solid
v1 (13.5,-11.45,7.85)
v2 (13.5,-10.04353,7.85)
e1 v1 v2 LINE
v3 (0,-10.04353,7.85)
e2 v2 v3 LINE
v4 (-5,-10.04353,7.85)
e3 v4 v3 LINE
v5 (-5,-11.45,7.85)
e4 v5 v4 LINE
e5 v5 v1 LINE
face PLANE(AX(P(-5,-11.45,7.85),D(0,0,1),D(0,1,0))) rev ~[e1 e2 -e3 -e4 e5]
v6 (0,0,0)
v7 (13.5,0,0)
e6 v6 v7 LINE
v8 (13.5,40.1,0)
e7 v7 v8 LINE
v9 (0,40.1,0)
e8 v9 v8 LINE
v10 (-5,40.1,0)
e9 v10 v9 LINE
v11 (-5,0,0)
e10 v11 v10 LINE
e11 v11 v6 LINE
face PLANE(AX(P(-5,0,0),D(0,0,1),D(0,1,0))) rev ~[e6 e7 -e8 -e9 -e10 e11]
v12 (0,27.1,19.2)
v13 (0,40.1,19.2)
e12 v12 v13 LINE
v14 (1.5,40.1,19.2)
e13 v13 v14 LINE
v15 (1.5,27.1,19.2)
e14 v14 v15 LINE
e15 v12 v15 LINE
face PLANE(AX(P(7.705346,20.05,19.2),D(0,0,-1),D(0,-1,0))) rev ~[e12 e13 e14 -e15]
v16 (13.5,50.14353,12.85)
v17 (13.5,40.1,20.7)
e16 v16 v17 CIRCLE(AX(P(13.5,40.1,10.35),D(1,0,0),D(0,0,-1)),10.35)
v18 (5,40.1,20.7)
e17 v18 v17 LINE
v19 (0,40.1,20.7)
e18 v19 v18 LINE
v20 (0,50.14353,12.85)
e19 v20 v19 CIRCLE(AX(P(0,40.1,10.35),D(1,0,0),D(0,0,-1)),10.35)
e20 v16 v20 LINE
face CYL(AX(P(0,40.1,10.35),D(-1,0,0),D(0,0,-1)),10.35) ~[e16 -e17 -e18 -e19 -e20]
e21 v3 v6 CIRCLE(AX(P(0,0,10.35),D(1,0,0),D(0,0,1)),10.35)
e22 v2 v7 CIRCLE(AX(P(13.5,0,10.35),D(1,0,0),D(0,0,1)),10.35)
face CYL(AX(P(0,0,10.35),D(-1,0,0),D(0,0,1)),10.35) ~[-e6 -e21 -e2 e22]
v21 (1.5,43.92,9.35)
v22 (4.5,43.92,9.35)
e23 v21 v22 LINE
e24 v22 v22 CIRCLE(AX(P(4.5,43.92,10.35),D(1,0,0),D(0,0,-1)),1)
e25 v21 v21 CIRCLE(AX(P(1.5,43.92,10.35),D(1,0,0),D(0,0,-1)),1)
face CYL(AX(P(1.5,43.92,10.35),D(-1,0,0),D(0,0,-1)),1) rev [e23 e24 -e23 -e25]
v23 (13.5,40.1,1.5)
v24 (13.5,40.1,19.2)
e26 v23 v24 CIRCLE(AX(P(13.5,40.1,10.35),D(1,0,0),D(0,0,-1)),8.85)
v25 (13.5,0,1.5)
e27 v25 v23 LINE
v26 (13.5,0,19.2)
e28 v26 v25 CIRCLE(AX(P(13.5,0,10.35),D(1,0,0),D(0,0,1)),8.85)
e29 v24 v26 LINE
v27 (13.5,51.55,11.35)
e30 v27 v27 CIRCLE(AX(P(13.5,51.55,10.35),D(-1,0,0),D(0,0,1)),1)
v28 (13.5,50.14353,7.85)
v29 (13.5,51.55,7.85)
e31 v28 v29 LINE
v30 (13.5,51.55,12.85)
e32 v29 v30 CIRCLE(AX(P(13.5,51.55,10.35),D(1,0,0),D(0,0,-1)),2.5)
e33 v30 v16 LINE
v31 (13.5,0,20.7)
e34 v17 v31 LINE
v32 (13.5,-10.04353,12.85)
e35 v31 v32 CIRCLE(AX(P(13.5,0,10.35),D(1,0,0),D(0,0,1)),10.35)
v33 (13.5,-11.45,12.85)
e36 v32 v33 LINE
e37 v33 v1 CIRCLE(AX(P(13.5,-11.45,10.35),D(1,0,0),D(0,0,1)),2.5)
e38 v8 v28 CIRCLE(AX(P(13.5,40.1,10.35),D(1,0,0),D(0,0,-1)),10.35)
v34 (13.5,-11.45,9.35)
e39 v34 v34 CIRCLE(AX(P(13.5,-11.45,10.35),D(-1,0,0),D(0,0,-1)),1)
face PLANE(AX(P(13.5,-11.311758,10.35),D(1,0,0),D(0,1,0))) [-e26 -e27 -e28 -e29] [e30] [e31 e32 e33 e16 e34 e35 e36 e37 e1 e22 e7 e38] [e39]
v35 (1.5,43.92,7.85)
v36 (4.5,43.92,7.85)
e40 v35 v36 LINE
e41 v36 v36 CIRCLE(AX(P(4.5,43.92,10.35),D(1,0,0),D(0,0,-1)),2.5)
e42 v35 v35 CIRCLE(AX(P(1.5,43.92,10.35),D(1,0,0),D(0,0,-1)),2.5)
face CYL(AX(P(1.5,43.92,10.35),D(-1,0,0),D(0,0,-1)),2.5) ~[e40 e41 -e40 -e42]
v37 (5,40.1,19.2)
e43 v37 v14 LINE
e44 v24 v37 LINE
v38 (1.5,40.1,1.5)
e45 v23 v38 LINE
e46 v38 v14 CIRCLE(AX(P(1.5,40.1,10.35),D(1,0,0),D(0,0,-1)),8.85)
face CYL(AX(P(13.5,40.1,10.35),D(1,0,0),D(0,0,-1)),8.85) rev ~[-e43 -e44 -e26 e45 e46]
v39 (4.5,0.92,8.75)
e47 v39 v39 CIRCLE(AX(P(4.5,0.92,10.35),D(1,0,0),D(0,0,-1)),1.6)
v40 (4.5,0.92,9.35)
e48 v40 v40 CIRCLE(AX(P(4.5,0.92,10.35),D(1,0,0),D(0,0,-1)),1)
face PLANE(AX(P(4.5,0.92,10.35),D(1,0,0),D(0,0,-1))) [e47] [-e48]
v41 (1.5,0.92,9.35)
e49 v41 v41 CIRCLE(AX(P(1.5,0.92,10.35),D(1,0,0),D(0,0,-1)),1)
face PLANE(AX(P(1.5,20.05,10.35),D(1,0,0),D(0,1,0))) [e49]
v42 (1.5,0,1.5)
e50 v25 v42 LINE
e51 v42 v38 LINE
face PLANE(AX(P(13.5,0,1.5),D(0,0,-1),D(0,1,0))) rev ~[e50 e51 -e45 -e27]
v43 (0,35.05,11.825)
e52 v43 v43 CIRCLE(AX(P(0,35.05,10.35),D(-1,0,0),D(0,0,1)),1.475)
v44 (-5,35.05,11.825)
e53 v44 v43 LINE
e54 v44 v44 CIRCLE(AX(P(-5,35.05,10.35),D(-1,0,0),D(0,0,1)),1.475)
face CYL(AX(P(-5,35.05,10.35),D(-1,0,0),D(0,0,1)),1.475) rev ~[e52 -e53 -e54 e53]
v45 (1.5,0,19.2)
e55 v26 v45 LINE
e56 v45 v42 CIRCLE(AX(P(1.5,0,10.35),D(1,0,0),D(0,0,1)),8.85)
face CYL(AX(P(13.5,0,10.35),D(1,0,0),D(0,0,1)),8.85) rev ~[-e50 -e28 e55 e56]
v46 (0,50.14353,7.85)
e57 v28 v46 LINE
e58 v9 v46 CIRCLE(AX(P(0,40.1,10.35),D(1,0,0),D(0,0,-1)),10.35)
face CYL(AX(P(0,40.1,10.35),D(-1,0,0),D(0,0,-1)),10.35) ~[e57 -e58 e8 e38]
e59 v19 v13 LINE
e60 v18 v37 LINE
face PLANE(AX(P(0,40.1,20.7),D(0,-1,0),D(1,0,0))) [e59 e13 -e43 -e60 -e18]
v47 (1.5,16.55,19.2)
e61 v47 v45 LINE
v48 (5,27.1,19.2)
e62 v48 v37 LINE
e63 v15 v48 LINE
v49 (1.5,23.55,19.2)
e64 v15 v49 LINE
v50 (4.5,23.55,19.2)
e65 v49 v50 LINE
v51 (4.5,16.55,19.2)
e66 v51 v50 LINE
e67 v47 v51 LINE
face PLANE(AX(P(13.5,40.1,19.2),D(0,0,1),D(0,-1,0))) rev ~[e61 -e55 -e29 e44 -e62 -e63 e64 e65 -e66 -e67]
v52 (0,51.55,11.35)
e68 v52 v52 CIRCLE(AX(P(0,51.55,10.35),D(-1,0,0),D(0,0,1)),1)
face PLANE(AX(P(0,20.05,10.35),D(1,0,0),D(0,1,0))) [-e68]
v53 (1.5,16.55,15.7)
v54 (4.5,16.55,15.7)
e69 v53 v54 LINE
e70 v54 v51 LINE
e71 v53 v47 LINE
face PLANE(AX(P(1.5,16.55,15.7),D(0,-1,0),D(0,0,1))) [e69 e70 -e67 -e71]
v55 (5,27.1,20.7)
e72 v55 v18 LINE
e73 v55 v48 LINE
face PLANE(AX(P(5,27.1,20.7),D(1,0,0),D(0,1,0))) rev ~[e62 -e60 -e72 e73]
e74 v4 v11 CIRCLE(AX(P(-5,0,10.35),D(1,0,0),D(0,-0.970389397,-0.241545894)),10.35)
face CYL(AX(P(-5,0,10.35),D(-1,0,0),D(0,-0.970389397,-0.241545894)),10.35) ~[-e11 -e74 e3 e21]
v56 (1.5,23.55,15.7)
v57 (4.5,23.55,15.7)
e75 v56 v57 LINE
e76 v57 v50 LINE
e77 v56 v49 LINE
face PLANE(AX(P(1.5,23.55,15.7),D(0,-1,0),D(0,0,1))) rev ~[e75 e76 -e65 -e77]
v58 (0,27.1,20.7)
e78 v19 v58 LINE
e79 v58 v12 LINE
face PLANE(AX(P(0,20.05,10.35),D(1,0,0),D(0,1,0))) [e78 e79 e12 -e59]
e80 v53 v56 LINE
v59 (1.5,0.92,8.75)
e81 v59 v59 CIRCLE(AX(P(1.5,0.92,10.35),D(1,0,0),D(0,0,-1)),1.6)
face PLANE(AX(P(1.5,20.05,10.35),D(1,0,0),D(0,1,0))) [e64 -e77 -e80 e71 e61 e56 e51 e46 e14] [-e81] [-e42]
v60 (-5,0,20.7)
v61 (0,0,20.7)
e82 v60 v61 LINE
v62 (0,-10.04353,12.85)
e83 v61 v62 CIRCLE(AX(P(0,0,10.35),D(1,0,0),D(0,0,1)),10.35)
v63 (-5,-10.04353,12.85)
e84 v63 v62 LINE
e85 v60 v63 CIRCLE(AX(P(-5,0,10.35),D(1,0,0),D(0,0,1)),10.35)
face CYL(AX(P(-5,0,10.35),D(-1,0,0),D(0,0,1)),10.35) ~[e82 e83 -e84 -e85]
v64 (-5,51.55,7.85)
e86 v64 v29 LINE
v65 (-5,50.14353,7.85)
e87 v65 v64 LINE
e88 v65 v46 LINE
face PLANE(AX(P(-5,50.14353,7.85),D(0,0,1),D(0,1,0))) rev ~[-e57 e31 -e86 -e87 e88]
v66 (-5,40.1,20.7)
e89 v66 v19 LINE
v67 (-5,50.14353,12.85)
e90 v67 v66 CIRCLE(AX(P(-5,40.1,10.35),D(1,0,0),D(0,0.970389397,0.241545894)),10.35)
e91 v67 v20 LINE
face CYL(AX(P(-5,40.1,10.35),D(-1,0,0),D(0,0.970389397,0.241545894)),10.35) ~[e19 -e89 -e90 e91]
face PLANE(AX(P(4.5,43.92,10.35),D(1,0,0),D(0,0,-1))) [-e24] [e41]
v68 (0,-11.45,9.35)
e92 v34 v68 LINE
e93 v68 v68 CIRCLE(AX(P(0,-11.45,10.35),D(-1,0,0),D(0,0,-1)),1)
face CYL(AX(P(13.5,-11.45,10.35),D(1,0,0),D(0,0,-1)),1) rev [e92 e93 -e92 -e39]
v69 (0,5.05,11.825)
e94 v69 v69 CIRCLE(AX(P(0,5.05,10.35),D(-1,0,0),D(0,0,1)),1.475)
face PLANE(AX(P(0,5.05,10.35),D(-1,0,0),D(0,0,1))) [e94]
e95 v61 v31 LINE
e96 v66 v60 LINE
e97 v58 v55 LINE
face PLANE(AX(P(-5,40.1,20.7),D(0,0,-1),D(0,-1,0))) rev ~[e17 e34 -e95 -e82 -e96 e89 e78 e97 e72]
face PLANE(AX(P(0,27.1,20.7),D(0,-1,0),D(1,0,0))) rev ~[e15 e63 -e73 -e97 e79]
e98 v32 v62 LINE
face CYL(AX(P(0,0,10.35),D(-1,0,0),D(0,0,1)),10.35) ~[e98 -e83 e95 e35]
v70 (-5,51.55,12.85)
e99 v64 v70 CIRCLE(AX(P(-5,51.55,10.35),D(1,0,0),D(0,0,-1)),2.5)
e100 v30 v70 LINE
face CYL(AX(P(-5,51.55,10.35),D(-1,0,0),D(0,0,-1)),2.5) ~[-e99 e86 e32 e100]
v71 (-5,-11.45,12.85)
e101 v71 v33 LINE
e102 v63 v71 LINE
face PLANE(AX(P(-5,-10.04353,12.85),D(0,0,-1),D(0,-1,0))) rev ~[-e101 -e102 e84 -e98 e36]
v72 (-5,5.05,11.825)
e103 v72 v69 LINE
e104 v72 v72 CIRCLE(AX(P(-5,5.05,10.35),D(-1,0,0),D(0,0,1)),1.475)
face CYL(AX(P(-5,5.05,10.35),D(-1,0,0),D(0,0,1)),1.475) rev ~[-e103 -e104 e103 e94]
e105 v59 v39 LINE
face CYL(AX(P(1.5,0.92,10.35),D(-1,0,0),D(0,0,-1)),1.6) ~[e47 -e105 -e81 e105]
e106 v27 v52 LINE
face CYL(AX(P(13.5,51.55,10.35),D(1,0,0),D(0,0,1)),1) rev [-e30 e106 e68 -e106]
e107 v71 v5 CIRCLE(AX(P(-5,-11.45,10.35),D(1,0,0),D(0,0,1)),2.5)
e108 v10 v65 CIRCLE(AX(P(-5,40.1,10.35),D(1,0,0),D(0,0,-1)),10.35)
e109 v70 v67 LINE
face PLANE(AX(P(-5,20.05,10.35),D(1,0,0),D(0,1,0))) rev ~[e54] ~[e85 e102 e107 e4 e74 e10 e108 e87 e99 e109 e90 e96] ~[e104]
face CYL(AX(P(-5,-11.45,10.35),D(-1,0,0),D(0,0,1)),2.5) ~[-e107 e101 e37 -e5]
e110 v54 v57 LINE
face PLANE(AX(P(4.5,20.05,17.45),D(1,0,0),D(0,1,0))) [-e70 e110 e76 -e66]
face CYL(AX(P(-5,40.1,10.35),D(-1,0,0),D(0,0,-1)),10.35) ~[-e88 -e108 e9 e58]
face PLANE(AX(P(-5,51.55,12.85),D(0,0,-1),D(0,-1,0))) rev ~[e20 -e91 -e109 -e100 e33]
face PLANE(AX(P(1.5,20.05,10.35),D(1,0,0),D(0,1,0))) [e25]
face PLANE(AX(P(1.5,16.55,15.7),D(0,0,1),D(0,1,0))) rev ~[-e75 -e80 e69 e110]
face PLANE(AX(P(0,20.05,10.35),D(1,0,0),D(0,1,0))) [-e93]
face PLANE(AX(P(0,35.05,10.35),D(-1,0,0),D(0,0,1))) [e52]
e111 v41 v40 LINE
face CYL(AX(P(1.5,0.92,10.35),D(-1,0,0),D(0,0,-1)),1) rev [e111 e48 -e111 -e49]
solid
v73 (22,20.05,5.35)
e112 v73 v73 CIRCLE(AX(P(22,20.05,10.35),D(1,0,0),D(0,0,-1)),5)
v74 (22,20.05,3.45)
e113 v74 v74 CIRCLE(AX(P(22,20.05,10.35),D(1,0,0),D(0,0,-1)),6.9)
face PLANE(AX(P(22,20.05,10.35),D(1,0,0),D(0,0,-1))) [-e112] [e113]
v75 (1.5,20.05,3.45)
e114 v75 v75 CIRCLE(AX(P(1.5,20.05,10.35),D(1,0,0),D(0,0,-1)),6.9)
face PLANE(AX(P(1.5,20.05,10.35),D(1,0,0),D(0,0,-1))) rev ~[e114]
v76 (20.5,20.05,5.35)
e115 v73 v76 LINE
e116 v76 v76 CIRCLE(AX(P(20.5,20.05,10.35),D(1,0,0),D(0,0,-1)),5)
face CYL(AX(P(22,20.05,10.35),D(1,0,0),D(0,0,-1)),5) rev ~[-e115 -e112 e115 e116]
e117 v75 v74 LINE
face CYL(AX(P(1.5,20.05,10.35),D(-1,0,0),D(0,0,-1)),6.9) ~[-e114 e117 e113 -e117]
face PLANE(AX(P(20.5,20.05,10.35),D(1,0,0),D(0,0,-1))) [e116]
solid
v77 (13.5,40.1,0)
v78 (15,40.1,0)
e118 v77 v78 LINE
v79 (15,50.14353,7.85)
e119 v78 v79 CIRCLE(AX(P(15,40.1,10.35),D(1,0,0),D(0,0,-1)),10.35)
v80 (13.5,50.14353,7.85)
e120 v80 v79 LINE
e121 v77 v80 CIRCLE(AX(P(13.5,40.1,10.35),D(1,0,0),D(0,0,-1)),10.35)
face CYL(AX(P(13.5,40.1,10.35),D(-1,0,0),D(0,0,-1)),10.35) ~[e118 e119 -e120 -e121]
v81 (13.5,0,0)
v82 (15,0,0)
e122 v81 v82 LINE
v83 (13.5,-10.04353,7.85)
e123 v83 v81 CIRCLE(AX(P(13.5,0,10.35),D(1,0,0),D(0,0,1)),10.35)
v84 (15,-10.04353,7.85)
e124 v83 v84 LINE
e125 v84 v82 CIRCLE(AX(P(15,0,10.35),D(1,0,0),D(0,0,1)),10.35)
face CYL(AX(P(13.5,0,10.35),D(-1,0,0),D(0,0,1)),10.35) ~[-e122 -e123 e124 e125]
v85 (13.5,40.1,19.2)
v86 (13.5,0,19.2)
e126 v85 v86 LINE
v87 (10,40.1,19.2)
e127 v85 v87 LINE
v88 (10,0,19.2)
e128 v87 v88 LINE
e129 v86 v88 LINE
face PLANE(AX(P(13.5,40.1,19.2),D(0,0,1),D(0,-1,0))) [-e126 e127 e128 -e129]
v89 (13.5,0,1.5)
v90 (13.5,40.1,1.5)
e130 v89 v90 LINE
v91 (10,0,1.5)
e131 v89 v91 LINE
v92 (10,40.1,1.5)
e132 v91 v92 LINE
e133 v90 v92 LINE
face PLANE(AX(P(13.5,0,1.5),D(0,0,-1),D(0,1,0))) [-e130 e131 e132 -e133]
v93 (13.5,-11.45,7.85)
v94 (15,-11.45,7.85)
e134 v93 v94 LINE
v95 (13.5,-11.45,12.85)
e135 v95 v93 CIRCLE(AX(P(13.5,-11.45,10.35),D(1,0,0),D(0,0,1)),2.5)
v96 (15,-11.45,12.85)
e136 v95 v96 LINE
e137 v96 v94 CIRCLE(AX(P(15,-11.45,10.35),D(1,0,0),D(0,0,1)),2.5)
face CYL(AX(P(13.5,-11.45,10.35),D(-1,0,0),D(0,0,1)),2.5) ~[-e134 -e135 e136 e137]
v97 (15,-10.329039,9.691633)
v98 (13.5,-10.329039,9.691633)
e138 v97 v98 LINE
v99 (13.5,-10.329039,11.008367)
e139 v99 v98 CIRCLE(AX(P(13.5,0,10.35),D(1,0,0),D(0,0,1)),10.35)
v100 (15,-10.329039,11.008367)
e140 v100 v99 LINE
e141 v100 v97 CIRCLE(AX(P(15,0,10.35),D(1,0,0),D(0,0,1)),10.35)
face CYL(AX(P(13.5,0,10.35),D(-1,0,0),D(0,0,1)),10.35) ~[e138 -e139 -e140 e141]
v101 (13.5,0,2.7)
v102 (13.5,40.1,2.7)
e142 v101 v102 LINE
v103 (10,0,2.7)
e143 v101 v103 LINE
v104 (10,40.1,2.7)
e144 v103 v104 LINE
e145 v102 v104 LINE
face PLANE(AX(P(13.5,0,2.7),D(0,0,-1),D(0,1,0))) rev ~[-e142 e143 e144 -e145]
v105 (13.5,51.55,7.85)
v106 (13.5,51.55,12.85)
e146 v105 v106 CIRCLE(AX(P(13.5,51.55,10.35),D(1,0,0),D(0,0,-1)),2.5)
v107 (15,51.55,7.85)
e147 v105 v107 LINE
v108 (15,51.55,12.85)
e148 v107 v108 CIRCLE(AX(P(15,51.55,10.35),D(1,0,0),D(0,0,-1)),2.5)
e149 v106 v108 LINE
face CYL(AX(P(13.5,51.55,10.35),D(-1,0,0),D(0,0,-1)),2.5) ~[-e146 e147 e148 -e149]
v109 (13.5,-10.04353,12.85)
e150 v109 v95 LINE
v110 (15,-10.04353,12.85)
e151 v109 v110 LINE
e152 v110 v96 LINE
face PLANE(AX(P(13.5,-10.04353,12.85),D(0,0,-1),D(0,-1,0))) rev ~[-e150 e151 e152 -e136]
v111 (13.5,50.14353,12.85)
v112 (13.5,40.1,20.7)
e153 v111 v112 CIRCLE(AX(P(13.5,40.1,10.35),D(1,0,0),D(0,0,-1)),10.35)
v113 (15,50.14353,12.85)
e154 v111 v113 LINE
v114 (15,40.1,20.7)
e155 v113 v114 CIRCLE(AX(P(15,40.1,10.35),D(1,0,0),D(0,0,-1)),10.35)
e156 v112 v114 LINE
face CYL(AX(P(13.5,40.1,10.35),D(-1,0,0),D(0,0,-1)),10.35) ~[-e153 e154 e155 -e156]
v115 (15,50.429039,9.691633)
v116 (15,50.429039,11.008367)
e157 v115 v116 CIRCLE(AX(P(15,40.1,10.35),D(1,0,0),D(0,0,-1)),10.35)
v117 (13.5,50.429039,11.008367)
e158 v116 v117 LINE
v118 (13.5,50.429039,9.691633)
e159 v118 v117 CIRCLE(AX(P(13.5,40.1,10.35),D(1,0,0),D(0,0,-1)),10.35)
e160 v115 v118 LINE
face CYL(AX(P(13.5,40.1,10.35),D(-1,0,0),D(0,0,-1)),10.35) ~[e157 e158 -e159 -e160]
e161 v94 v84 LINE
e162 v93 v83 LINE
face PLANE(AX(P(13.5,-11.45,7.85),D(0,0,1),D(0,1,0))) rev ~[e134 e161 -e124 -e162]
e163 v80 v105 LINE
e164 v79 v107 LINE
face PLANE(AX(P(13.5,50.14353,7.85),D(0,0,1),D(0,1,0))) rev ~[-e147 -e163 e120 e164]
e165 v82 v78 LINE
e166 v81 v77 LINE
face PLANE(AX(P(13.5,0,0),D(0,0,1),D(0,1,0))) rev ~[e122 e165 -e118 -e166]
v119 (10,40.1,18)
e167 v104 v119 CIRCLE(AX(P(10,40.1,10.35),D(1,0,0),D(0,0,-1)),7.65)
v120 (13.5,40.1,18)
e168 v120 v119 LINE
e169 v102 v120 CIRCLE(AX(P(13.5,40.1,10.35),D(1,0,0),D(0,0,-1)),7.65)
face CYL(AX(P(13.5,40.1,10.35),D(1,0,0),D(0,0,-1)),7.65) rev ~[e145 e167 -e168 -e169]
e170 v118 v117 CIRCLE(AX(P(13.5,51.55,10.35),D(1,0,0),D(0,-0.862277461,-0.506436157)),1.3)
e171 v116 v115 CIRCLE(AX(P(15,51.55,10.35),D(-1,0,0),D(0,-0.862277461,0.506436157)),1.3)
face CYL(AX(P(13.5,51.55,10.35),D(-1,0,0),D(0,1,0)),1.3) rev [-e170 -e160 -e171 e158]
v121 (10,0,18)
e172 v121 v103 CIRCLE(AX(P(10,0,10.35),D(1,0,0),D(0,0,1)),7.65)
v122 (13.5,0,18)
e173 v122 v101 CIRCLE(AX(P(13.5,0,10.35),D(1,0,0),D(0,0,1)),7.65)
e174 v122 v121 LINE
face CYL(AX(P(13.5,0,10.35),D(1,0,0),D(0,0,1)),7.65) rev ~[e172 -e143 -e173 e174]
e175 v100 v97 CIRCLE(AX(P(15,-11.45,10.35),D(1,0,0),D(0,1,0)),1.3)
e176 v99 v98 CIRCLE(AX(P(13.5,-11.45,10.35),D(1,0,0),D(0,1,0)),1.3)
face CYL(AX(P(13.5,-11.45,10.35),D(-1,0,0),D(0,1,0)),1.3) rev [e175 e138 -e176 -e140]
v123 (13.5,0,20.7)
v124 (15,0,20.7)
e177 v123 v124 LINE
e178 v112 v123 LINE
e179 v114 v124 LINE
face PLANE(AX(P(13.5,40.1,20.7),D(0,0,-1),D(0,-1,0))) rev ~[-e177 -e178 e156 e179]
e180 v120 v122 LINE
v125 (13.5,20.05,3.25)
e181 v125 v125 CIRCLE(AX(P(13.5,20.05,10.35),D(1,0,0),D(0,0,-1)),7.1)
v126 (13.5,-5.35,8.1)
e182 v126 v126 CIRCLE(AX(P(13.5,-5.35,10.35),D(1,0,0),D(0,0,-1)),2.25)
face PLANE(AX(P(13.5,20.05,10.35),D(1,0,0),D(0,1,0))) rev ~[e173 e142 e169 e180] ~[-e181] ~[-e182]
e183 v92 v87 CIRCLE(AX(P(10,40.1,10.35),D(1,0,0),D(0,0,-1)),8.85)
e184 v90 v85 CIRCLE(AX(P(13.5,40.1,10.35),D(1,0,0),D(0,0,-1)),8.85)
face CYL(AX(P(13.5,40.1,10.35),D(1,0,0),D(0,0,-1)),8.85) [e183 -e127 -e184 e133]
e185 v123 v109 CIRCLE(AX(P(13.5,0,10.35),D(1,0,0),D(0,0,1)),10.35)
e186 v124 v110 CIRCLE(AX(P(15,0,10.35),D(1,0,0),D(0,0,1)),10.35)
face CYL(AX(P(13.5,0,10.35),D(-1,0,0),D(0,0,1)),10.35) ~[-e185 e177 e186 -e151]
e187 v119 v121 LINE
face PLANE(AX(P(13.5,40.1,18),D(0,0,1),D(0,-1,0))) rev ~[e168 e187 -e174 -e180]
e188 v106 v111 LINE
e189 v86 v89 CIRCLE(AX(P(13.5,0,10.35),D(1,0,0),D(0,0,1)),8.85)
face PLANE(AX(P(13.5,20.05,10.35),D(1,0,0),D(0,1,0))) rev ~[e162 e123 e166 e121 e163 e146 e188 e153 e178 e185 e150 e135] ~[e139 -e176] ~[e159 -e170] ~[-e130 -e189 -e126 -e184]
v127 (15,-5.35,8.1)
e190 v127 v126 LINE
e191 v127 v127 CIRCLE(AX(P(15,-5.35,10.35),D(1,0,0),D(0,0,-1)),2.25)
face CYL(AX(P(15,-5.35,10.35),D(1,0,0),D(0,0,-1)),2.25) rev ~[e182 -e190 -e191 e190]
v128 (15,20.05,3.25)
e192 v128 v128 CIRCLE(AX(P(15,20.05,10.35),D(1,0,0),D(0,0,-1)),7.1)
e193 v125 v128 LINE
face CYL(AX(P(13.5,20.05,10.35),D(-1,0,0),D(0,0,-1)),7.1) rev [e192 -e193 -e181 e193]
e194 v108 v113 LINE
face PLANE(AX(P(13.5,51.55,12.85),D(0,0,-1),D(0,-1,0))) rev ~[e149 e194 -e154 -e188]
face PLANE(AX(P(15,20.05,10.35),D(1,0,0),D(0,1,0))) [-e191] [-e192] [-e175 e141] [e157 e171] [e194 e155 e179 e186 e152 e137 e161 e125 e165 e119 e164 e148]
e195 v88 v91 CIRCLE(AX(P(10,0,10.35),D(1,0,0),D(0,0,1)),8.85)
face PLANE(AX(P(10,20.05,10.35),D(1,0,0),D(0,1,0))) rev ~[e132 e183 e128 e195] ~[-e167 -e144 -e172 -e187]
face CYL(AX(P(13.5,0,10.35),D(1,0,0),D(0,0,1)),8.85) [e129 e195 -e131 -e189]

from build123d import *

# Parameters (mm, degrees)
BOSS_EXTRUDE1_DEPTH = 13.5
CUT_EXTRUDE1_DEPTH  = 12
SKETCH3_R           = 1.6
SKETCH3_R_2         = 1
SKETCH3_R_3         = 2.5
SKETCH3_W           = 7
SKETCH3_H           = 3.5
BOSS_EXTRUDE2_DEPTH = 3
SKETCH5_R           = 7.1
BOSS_EXTRUDE3_DEPTH = 1.5
BOSS_EXTRUDE4_DEPTH = 3.5
SKETCH8_R           = 2.25
CUT_EXTRUDE3_DEPTH  = 1.5
CUT_EXTRUDE4_REACH  = 58.557
SKETCH9_W           = 5
SKETCH9_H           = 13
BOSS_EXTRUDE5_START = -13.5
SKETCH10_R          = 1
BOSS_EXTRUDE5_DEPTH = 13.5
BOSS_EXTRUDE6_START = -1.5
SKETCH11_R          = 2.25
SKETCH11_R_2        = 7.1
SKETCH11_R_3        = 1.3
BOSS_EXTRUDE6_DEPTH = 1.5
SKETCH12_R          = 6.9
BOSS_EXTRUDE7_DEPTH = 20.5
SKETCH13_R          = 5
CUT_EXTRUDE5_DEPTH  = 1.5
BOSS_EXTRUDE8_START = 5
BOSS_EXTRUDE8_DEPTH = 5
SKETCH17_R          = 1.475
CUT_EXTRUDE6_DEPTH  = 5


with BuildPart() as part:
    # Sketch1 → Boss-Extrude1 (new body)
    with BuildSketch(Plane.YZ):
        with BuildLine():
            Line((0, 0), (40.1, 0))
            ThreePointArc((40.1, 0), (50.45, 10.35), (40.1, 20.7))
            Line((40.1, 20.7), (0, 20.7))
            ThreePointArc((0, 20.7), (-10.35, 10.35), (0, 0))
        make_face()
    extrude(amount=BOSS_EXTRUDE1_DEPTH)

    # Sketch2 → Cut-Extrude1 (cut)
    with BuildSketch(Plane.YZ.offset(13.5)):
        with BuildLine():
            Line((40.1, 19.2), (0, 19.2))
            ThreePointArc((0, 19.2), (-8.85, 10.35), (0, 1.5))
            Line((0, 1.5), (40.1, 1.5))
            ThreePointArc((40.1, 1.5), (48.95, 10.35), (40.1, 19.2))
        make_face()
    extrude(amount=-CUT_EXTRUDE1_DEPTH, mode=Mode.SUBTRACT)

    # Sketch3 → Boss-Extrude2 (add)
    # profile 1 of 3: a face of its own
    with BuildSketch(Plane.YZ.offset(1.5)):
        with Locations(Location((0.92, 10.35, 0), (0, 0, 270))):
            Circle(SKETCH3_R)
        with Locations(Location((0.92, 10.35, 0), (0, 0, 270))):
            Circle(SKETCH3_R_2, mode=Mode.SUBTRACT)
    # profile 2 of 3: a face of its own
    with BuildSketch(Plane.YZ.offset(1.5)):
        with Locations(Location((43.92, 10.35, 0), (0, 0, 270))):
            Circle(SKETCH3_R_3)
        with Locations(Location((43.92, 10.35, 0), (0, 0, 270))):
            Circle(SKETCH3_R_2, mode=Mode.SUBTRACT)
    # profile 3 of 3: a face of its own
    with BuildSketch(Plane.YZ.offset(1.5)):
        with Locations((20.05, 17.45)):
            Rectangle(SKETCH3_W, SKETCH3_H)
    extrude(amount=BOSS_EXTRUDE2_DEPTH)

    # Cut-Extrude4: up to this face of the body (flat: up to its plane)
    cut_extrude4_end = Plane(part.part.faces().sort_by_distance((7.705345502, 20.05, 19.2))[0])
    # Sketch9 → Cut-Extrude4 (cut, up to the picked face)
    with BuildSketch(Plane.XY.offset(20.7), mode=Mode.PRIVATE) as cut_extrude4_sk1:
        with Locations((2.5, 33.6)):
            Rectangle(SKETCH9_W, SKETCH9_H)
    cut_extrude4_tool1 = split(extrude(cut_extrude4_sk1.sketch, amount=-CUT_EXTRUDE4_REACH, mode=Mode.PRIVATE), bisect_by=cut_extrude4_end, keep=Keep.BOTH, mode=Mode.PRIVATE)
    add(cut_extrude4_tool1.solids().sort_by(Axis((2.5, 33.6, 20.7), (0, 0, -1)))[0], mode=Mode.SUBTRACT)

    # Sketch10 → Boss-Extrude5 (add)
    # profile 1 of 2: a face of its own
    with BuildSketch(Plane(origin=(0, 0, 0), x_dir=(0, -1, 0), z_dir=(-1, 0, 0)).offset(BOSS_EXTRUDE5_START)):
        with BuildLine():
            Line((11.45, 7.85), (10.043530256, 7.85))
            ThreePointArc((10.043530256, 7.85), (10.088482115, 8.038068207), (10.129912664, 8.226943377))
            ThreePointArc((10.129912664, 8.226943377), (8.95, 10.35), (10.129912664, 12.473056623))
            ThreePointArc((10.129912664, 12.473056623), (10.088482115, 12.661931793), (10.043530256, 12.85))
            Line((10.043530256, 12.85), (11.45, 12.85))
            ThreePointArc((11.45, 12.85), (13.95, 10.35), (11.45, 7.85))
        make_face()
        with Locations(Location((11.45, 10.35, 0), (0, 0, 270))):
            Circle(SKETCH10_R, mode=Mode.SUBTRACT)
    # profile 2 of 2: a face of its own
    with BuildSketch(Plane(origin=(0, 0, 0), x_dir=(0, -1, 0), z_dir=(-1, 0, 0)).offset(BOSS_EXTRUDE5_START)):
        with BuildLine():
            Line((-51.55, 12.85), (-50.143530256, 12.85))
            ThreePointArc((-50.143530256, 12.85), (-50.188482115, 12.661931793), (-50.229912664, 12.473056623))
            ThreePointArc((-50.229912664, 12.473056623), (-49.05, 10.35), (-50.229912664, 8.226943377))
            ThreePointArc((-50.229912664, 8.226943377), (-50.188482115, 8.038068207), (-50.143530256, 7.85))
            Line((-50.143530256, 7.85), (-51.55, 7.85))
            ThreePointArc((-51.55, 7.85), (-54.05, 10.35), (-51.55, 12.85))
        make_face()
        with Locations(Location((-51.55, 10.35, 0), (0, 0, 90))):
            Circle(SKETCH10_R, mode=Mode.SUBTRACT)
    extrude(amount=BOSS_EXTRUDE5_DEPTH)

    # Sketch16 → Boss-Extrude8 (add)
    with BuildSketch(Plane(origin=(0, 0, 0), x_dir=(0, -1, 0), z_dir=(-1, 0, 0)).offset(BOSS_EXTRUDE8_START)):
        with BuildLine():
            Line((-40.1, 20.7), (-27.1, 20.7))
            Line((-27.1, 20.7), (0, 20.7))
            ThreePointArc((0, 20.7), (6.373676333, 18.504676572), (10.043530256, 12.85))
            Line((10.043530256, 12.85), (11.45, 12.85))
            ThreePointArc((11.45, 12.85), (13.95, 10.35), (11.45, 7.85))
            Line((11.45, 7.85), (10.043530256, 7.85))
            ThreePointArc((10.043530256, 7.85), (6.373676333, 2.195323428), (0, 0))
            Line((0, 0), (-40.1, 0))
            ThreePointArc((-40.1, 0), (-46.473676333, 2.195323428), (-50.143530256, 7.85))
            Line((-50.143530256, 7.85), (-51.55, 7.85))
            ThreePointArc((-51.55, 7.85), (-54.05, 10.35), (-51.55, 12.85))
            Line((-51.55, 12.85), (-50.143530256, 12.85))
            ThreePointArc((-50.143530256, 12.85), (-46.473676333, 18.504676572), (-40.1, 20.7))
        make_face()
    extrude(amount=-BOSS_EXTRUDE8_DEPTH)

    # Sketch17 → Cut-Extrude6 (cut)
    with BuildSketch(Plane(origin=(-5, 0, 0), x_dir=(0, -1, 0), z_dir=(-1, 0, 0))):
        with Locations(Location((-35.05, 10.35, 0), (0, 0, 90))):
            Circle(SKETCH17_R)
        with Locations(Location((-5.05, 10.35, 0), (0, 0, 90))):
            Circle(SKETCH17_R)
    extrude(amount=-CUT_EXTRUDE6_DEPTH, mode=Mode.SUBTRACT)


with BuildPart() as body_2:
    # Sketch5 → Boss-Extrude3 (new body)
    with BuildSketch(Plane.YZ.offset(13.5)):
        with BuildLine():
            Line((40.1, 20.7), (0, 20.7))
            ThreePointArc((0, 20.7), (-10.35, 10.35), (0, 0))
            Line((0, 0), (40.1, 0))
            ThreePointArc((40.1, 0), (50.45, 10.35), (40.1, 20.7))
        make_face()
        with Locations(Location((20.05, 10.35, 0), (0, 0, 270))):
            Circle(SKETCH5_R, mode=Mode.SUBTRACT)
    extrude(amount=BOSS_EXTRUDE3_DEPTH)

    # Sketch6 → Boss-Extrude4 (add)
    with BuildSketch(Plane(origin=(13.5, 0, 0), x_dir=(0, -1, 0), z_dir=(-1, 0, 0))):
        with BuildLine():
            Line((-40.1, 19.2), (0, 19.2))
            ThreePointArc((0, 19.2), (8.85, 10.35), (0, 1.5))
            Line((0, 1.5), (-40.1, 1.5))
            ThreePointArc((-40.1, 1.5), (-48.95, 10.35), (-40.1, 19.2))
        make_face()
        with BuildLine():
            Line((-40.1, 18), (0, 18))
            ThreePointArc((0, 18), (7.65, 10.35), (0, 2.7))
            Line((0, 2.7), (-40.1, 2.7))
            ThreePointArc((-40.1, 2.7), (-47.75, 10.35), (-40.1, 18))
        make_face(mode=Mode.SUBTRACT)
    extrude(amount=BOSS_EXTRUDE4_DEPTH)

    # Sketch8 → Cut-Extrude3 (cut)
    with BuildSketch(Plane.YZ.offset(15)):
        with Locations(Location((-5.35, 10.35, 0), (0, 0, 270))):
            Circle(SKETCH8_R)
    extrude(amount=-CUT_EXTRUDE3_DEPTH, mode=Mode.SUBTRACT)

    # Sketch11 → Boss-Extrude6 (add)
    with BuildSketch(Plane.YZ.offset(15).offset(BOSS_EXTRUDE6_START)):
        with BuildLine():
            Line((50.143530256, 7.85), (51.55, 7.85))
            ThreePointArc((51.55, 7.85), (54.05, 10.35), (51.55, 12.85))
            Line((51.55, 12.85), (50.143530256, 12.85))
            ThreePointArc((50.143530256, 12.85), (46.473676333, 18.504676572), (40.1, 20.7))
            Line((40.1, 20.7), (0, 20.7))
            ThreePointArc((0, 20.7), (-6.373676333, 18.504676572), (-10.043530256, 12.85))
            Line((-10.043530256, 12.85), (-11.45, 12.85))
            ThreePointArc((-11.45, 12.85), (-13.95, 10.35), (-11.45, 7.85))
            Line((-11.45, 7.85), (-10.043530256, 7.85))
            ThreePointArc((-10.043530256, 7.85), (-6.373676333, 2.195323428), (0, 0))
            Line((0, 0), (40.1, 0))
            ThreePointArc((40.1, 0), (46.473676333, 2.195323428), (50.143530256, 7.85))
        make_face()
        with Locations(Location((-5.35, 10.35, 0), (0, 0, 270))):
            Circle(SKETCH11_R, mode=Mode.SUBTRACT)
        with Locations(Location((20.05, 10.35, 0), (0, 0, 270))):
            Circle(SKETCH11_R_2, mode=Mode.SUBTRACT)
        with Locations((-11.45, 10.35)):
            Circle(SKETCH11_R_3, mode=Mode.SUBTRACT)
        with Locations((51.55, 10.35)):
            Circle(SKETCH11_R_3, mode=Mode.SUBTRACT)
    extrude(amount=BOSS_EXTRUDE6_DEPTH)


with BuildPart() as body_3:
    # Sketch12 → Boss-Extrude7 (new body)
    with BuildSketch(Plane(origin=(1.5, 0, 0), x_dir=(0, 0, -1), z_dir=(1, 0, 0))):
        with Locations((-10.35, 20.05)):
            Circle(SKETCH12_R)
    extrude(amount=BOSS_EXTRUDE7_DEPTH)

    # Sketch13 → Cut-Extrude5 (cut)
    with BuildSketch(Plane.YZ.offset(22)):
        with Locations(Location((20.05, 10.35, 0), (0, 0, 270))):
            Circle(SKETCH13_R)
    extrude(amount=-CUT_EXTRUDE5_DEPTH, mode=Mode.SUBTRACT)


solid = Compound([part.part, body_2.part, body_3.part])
